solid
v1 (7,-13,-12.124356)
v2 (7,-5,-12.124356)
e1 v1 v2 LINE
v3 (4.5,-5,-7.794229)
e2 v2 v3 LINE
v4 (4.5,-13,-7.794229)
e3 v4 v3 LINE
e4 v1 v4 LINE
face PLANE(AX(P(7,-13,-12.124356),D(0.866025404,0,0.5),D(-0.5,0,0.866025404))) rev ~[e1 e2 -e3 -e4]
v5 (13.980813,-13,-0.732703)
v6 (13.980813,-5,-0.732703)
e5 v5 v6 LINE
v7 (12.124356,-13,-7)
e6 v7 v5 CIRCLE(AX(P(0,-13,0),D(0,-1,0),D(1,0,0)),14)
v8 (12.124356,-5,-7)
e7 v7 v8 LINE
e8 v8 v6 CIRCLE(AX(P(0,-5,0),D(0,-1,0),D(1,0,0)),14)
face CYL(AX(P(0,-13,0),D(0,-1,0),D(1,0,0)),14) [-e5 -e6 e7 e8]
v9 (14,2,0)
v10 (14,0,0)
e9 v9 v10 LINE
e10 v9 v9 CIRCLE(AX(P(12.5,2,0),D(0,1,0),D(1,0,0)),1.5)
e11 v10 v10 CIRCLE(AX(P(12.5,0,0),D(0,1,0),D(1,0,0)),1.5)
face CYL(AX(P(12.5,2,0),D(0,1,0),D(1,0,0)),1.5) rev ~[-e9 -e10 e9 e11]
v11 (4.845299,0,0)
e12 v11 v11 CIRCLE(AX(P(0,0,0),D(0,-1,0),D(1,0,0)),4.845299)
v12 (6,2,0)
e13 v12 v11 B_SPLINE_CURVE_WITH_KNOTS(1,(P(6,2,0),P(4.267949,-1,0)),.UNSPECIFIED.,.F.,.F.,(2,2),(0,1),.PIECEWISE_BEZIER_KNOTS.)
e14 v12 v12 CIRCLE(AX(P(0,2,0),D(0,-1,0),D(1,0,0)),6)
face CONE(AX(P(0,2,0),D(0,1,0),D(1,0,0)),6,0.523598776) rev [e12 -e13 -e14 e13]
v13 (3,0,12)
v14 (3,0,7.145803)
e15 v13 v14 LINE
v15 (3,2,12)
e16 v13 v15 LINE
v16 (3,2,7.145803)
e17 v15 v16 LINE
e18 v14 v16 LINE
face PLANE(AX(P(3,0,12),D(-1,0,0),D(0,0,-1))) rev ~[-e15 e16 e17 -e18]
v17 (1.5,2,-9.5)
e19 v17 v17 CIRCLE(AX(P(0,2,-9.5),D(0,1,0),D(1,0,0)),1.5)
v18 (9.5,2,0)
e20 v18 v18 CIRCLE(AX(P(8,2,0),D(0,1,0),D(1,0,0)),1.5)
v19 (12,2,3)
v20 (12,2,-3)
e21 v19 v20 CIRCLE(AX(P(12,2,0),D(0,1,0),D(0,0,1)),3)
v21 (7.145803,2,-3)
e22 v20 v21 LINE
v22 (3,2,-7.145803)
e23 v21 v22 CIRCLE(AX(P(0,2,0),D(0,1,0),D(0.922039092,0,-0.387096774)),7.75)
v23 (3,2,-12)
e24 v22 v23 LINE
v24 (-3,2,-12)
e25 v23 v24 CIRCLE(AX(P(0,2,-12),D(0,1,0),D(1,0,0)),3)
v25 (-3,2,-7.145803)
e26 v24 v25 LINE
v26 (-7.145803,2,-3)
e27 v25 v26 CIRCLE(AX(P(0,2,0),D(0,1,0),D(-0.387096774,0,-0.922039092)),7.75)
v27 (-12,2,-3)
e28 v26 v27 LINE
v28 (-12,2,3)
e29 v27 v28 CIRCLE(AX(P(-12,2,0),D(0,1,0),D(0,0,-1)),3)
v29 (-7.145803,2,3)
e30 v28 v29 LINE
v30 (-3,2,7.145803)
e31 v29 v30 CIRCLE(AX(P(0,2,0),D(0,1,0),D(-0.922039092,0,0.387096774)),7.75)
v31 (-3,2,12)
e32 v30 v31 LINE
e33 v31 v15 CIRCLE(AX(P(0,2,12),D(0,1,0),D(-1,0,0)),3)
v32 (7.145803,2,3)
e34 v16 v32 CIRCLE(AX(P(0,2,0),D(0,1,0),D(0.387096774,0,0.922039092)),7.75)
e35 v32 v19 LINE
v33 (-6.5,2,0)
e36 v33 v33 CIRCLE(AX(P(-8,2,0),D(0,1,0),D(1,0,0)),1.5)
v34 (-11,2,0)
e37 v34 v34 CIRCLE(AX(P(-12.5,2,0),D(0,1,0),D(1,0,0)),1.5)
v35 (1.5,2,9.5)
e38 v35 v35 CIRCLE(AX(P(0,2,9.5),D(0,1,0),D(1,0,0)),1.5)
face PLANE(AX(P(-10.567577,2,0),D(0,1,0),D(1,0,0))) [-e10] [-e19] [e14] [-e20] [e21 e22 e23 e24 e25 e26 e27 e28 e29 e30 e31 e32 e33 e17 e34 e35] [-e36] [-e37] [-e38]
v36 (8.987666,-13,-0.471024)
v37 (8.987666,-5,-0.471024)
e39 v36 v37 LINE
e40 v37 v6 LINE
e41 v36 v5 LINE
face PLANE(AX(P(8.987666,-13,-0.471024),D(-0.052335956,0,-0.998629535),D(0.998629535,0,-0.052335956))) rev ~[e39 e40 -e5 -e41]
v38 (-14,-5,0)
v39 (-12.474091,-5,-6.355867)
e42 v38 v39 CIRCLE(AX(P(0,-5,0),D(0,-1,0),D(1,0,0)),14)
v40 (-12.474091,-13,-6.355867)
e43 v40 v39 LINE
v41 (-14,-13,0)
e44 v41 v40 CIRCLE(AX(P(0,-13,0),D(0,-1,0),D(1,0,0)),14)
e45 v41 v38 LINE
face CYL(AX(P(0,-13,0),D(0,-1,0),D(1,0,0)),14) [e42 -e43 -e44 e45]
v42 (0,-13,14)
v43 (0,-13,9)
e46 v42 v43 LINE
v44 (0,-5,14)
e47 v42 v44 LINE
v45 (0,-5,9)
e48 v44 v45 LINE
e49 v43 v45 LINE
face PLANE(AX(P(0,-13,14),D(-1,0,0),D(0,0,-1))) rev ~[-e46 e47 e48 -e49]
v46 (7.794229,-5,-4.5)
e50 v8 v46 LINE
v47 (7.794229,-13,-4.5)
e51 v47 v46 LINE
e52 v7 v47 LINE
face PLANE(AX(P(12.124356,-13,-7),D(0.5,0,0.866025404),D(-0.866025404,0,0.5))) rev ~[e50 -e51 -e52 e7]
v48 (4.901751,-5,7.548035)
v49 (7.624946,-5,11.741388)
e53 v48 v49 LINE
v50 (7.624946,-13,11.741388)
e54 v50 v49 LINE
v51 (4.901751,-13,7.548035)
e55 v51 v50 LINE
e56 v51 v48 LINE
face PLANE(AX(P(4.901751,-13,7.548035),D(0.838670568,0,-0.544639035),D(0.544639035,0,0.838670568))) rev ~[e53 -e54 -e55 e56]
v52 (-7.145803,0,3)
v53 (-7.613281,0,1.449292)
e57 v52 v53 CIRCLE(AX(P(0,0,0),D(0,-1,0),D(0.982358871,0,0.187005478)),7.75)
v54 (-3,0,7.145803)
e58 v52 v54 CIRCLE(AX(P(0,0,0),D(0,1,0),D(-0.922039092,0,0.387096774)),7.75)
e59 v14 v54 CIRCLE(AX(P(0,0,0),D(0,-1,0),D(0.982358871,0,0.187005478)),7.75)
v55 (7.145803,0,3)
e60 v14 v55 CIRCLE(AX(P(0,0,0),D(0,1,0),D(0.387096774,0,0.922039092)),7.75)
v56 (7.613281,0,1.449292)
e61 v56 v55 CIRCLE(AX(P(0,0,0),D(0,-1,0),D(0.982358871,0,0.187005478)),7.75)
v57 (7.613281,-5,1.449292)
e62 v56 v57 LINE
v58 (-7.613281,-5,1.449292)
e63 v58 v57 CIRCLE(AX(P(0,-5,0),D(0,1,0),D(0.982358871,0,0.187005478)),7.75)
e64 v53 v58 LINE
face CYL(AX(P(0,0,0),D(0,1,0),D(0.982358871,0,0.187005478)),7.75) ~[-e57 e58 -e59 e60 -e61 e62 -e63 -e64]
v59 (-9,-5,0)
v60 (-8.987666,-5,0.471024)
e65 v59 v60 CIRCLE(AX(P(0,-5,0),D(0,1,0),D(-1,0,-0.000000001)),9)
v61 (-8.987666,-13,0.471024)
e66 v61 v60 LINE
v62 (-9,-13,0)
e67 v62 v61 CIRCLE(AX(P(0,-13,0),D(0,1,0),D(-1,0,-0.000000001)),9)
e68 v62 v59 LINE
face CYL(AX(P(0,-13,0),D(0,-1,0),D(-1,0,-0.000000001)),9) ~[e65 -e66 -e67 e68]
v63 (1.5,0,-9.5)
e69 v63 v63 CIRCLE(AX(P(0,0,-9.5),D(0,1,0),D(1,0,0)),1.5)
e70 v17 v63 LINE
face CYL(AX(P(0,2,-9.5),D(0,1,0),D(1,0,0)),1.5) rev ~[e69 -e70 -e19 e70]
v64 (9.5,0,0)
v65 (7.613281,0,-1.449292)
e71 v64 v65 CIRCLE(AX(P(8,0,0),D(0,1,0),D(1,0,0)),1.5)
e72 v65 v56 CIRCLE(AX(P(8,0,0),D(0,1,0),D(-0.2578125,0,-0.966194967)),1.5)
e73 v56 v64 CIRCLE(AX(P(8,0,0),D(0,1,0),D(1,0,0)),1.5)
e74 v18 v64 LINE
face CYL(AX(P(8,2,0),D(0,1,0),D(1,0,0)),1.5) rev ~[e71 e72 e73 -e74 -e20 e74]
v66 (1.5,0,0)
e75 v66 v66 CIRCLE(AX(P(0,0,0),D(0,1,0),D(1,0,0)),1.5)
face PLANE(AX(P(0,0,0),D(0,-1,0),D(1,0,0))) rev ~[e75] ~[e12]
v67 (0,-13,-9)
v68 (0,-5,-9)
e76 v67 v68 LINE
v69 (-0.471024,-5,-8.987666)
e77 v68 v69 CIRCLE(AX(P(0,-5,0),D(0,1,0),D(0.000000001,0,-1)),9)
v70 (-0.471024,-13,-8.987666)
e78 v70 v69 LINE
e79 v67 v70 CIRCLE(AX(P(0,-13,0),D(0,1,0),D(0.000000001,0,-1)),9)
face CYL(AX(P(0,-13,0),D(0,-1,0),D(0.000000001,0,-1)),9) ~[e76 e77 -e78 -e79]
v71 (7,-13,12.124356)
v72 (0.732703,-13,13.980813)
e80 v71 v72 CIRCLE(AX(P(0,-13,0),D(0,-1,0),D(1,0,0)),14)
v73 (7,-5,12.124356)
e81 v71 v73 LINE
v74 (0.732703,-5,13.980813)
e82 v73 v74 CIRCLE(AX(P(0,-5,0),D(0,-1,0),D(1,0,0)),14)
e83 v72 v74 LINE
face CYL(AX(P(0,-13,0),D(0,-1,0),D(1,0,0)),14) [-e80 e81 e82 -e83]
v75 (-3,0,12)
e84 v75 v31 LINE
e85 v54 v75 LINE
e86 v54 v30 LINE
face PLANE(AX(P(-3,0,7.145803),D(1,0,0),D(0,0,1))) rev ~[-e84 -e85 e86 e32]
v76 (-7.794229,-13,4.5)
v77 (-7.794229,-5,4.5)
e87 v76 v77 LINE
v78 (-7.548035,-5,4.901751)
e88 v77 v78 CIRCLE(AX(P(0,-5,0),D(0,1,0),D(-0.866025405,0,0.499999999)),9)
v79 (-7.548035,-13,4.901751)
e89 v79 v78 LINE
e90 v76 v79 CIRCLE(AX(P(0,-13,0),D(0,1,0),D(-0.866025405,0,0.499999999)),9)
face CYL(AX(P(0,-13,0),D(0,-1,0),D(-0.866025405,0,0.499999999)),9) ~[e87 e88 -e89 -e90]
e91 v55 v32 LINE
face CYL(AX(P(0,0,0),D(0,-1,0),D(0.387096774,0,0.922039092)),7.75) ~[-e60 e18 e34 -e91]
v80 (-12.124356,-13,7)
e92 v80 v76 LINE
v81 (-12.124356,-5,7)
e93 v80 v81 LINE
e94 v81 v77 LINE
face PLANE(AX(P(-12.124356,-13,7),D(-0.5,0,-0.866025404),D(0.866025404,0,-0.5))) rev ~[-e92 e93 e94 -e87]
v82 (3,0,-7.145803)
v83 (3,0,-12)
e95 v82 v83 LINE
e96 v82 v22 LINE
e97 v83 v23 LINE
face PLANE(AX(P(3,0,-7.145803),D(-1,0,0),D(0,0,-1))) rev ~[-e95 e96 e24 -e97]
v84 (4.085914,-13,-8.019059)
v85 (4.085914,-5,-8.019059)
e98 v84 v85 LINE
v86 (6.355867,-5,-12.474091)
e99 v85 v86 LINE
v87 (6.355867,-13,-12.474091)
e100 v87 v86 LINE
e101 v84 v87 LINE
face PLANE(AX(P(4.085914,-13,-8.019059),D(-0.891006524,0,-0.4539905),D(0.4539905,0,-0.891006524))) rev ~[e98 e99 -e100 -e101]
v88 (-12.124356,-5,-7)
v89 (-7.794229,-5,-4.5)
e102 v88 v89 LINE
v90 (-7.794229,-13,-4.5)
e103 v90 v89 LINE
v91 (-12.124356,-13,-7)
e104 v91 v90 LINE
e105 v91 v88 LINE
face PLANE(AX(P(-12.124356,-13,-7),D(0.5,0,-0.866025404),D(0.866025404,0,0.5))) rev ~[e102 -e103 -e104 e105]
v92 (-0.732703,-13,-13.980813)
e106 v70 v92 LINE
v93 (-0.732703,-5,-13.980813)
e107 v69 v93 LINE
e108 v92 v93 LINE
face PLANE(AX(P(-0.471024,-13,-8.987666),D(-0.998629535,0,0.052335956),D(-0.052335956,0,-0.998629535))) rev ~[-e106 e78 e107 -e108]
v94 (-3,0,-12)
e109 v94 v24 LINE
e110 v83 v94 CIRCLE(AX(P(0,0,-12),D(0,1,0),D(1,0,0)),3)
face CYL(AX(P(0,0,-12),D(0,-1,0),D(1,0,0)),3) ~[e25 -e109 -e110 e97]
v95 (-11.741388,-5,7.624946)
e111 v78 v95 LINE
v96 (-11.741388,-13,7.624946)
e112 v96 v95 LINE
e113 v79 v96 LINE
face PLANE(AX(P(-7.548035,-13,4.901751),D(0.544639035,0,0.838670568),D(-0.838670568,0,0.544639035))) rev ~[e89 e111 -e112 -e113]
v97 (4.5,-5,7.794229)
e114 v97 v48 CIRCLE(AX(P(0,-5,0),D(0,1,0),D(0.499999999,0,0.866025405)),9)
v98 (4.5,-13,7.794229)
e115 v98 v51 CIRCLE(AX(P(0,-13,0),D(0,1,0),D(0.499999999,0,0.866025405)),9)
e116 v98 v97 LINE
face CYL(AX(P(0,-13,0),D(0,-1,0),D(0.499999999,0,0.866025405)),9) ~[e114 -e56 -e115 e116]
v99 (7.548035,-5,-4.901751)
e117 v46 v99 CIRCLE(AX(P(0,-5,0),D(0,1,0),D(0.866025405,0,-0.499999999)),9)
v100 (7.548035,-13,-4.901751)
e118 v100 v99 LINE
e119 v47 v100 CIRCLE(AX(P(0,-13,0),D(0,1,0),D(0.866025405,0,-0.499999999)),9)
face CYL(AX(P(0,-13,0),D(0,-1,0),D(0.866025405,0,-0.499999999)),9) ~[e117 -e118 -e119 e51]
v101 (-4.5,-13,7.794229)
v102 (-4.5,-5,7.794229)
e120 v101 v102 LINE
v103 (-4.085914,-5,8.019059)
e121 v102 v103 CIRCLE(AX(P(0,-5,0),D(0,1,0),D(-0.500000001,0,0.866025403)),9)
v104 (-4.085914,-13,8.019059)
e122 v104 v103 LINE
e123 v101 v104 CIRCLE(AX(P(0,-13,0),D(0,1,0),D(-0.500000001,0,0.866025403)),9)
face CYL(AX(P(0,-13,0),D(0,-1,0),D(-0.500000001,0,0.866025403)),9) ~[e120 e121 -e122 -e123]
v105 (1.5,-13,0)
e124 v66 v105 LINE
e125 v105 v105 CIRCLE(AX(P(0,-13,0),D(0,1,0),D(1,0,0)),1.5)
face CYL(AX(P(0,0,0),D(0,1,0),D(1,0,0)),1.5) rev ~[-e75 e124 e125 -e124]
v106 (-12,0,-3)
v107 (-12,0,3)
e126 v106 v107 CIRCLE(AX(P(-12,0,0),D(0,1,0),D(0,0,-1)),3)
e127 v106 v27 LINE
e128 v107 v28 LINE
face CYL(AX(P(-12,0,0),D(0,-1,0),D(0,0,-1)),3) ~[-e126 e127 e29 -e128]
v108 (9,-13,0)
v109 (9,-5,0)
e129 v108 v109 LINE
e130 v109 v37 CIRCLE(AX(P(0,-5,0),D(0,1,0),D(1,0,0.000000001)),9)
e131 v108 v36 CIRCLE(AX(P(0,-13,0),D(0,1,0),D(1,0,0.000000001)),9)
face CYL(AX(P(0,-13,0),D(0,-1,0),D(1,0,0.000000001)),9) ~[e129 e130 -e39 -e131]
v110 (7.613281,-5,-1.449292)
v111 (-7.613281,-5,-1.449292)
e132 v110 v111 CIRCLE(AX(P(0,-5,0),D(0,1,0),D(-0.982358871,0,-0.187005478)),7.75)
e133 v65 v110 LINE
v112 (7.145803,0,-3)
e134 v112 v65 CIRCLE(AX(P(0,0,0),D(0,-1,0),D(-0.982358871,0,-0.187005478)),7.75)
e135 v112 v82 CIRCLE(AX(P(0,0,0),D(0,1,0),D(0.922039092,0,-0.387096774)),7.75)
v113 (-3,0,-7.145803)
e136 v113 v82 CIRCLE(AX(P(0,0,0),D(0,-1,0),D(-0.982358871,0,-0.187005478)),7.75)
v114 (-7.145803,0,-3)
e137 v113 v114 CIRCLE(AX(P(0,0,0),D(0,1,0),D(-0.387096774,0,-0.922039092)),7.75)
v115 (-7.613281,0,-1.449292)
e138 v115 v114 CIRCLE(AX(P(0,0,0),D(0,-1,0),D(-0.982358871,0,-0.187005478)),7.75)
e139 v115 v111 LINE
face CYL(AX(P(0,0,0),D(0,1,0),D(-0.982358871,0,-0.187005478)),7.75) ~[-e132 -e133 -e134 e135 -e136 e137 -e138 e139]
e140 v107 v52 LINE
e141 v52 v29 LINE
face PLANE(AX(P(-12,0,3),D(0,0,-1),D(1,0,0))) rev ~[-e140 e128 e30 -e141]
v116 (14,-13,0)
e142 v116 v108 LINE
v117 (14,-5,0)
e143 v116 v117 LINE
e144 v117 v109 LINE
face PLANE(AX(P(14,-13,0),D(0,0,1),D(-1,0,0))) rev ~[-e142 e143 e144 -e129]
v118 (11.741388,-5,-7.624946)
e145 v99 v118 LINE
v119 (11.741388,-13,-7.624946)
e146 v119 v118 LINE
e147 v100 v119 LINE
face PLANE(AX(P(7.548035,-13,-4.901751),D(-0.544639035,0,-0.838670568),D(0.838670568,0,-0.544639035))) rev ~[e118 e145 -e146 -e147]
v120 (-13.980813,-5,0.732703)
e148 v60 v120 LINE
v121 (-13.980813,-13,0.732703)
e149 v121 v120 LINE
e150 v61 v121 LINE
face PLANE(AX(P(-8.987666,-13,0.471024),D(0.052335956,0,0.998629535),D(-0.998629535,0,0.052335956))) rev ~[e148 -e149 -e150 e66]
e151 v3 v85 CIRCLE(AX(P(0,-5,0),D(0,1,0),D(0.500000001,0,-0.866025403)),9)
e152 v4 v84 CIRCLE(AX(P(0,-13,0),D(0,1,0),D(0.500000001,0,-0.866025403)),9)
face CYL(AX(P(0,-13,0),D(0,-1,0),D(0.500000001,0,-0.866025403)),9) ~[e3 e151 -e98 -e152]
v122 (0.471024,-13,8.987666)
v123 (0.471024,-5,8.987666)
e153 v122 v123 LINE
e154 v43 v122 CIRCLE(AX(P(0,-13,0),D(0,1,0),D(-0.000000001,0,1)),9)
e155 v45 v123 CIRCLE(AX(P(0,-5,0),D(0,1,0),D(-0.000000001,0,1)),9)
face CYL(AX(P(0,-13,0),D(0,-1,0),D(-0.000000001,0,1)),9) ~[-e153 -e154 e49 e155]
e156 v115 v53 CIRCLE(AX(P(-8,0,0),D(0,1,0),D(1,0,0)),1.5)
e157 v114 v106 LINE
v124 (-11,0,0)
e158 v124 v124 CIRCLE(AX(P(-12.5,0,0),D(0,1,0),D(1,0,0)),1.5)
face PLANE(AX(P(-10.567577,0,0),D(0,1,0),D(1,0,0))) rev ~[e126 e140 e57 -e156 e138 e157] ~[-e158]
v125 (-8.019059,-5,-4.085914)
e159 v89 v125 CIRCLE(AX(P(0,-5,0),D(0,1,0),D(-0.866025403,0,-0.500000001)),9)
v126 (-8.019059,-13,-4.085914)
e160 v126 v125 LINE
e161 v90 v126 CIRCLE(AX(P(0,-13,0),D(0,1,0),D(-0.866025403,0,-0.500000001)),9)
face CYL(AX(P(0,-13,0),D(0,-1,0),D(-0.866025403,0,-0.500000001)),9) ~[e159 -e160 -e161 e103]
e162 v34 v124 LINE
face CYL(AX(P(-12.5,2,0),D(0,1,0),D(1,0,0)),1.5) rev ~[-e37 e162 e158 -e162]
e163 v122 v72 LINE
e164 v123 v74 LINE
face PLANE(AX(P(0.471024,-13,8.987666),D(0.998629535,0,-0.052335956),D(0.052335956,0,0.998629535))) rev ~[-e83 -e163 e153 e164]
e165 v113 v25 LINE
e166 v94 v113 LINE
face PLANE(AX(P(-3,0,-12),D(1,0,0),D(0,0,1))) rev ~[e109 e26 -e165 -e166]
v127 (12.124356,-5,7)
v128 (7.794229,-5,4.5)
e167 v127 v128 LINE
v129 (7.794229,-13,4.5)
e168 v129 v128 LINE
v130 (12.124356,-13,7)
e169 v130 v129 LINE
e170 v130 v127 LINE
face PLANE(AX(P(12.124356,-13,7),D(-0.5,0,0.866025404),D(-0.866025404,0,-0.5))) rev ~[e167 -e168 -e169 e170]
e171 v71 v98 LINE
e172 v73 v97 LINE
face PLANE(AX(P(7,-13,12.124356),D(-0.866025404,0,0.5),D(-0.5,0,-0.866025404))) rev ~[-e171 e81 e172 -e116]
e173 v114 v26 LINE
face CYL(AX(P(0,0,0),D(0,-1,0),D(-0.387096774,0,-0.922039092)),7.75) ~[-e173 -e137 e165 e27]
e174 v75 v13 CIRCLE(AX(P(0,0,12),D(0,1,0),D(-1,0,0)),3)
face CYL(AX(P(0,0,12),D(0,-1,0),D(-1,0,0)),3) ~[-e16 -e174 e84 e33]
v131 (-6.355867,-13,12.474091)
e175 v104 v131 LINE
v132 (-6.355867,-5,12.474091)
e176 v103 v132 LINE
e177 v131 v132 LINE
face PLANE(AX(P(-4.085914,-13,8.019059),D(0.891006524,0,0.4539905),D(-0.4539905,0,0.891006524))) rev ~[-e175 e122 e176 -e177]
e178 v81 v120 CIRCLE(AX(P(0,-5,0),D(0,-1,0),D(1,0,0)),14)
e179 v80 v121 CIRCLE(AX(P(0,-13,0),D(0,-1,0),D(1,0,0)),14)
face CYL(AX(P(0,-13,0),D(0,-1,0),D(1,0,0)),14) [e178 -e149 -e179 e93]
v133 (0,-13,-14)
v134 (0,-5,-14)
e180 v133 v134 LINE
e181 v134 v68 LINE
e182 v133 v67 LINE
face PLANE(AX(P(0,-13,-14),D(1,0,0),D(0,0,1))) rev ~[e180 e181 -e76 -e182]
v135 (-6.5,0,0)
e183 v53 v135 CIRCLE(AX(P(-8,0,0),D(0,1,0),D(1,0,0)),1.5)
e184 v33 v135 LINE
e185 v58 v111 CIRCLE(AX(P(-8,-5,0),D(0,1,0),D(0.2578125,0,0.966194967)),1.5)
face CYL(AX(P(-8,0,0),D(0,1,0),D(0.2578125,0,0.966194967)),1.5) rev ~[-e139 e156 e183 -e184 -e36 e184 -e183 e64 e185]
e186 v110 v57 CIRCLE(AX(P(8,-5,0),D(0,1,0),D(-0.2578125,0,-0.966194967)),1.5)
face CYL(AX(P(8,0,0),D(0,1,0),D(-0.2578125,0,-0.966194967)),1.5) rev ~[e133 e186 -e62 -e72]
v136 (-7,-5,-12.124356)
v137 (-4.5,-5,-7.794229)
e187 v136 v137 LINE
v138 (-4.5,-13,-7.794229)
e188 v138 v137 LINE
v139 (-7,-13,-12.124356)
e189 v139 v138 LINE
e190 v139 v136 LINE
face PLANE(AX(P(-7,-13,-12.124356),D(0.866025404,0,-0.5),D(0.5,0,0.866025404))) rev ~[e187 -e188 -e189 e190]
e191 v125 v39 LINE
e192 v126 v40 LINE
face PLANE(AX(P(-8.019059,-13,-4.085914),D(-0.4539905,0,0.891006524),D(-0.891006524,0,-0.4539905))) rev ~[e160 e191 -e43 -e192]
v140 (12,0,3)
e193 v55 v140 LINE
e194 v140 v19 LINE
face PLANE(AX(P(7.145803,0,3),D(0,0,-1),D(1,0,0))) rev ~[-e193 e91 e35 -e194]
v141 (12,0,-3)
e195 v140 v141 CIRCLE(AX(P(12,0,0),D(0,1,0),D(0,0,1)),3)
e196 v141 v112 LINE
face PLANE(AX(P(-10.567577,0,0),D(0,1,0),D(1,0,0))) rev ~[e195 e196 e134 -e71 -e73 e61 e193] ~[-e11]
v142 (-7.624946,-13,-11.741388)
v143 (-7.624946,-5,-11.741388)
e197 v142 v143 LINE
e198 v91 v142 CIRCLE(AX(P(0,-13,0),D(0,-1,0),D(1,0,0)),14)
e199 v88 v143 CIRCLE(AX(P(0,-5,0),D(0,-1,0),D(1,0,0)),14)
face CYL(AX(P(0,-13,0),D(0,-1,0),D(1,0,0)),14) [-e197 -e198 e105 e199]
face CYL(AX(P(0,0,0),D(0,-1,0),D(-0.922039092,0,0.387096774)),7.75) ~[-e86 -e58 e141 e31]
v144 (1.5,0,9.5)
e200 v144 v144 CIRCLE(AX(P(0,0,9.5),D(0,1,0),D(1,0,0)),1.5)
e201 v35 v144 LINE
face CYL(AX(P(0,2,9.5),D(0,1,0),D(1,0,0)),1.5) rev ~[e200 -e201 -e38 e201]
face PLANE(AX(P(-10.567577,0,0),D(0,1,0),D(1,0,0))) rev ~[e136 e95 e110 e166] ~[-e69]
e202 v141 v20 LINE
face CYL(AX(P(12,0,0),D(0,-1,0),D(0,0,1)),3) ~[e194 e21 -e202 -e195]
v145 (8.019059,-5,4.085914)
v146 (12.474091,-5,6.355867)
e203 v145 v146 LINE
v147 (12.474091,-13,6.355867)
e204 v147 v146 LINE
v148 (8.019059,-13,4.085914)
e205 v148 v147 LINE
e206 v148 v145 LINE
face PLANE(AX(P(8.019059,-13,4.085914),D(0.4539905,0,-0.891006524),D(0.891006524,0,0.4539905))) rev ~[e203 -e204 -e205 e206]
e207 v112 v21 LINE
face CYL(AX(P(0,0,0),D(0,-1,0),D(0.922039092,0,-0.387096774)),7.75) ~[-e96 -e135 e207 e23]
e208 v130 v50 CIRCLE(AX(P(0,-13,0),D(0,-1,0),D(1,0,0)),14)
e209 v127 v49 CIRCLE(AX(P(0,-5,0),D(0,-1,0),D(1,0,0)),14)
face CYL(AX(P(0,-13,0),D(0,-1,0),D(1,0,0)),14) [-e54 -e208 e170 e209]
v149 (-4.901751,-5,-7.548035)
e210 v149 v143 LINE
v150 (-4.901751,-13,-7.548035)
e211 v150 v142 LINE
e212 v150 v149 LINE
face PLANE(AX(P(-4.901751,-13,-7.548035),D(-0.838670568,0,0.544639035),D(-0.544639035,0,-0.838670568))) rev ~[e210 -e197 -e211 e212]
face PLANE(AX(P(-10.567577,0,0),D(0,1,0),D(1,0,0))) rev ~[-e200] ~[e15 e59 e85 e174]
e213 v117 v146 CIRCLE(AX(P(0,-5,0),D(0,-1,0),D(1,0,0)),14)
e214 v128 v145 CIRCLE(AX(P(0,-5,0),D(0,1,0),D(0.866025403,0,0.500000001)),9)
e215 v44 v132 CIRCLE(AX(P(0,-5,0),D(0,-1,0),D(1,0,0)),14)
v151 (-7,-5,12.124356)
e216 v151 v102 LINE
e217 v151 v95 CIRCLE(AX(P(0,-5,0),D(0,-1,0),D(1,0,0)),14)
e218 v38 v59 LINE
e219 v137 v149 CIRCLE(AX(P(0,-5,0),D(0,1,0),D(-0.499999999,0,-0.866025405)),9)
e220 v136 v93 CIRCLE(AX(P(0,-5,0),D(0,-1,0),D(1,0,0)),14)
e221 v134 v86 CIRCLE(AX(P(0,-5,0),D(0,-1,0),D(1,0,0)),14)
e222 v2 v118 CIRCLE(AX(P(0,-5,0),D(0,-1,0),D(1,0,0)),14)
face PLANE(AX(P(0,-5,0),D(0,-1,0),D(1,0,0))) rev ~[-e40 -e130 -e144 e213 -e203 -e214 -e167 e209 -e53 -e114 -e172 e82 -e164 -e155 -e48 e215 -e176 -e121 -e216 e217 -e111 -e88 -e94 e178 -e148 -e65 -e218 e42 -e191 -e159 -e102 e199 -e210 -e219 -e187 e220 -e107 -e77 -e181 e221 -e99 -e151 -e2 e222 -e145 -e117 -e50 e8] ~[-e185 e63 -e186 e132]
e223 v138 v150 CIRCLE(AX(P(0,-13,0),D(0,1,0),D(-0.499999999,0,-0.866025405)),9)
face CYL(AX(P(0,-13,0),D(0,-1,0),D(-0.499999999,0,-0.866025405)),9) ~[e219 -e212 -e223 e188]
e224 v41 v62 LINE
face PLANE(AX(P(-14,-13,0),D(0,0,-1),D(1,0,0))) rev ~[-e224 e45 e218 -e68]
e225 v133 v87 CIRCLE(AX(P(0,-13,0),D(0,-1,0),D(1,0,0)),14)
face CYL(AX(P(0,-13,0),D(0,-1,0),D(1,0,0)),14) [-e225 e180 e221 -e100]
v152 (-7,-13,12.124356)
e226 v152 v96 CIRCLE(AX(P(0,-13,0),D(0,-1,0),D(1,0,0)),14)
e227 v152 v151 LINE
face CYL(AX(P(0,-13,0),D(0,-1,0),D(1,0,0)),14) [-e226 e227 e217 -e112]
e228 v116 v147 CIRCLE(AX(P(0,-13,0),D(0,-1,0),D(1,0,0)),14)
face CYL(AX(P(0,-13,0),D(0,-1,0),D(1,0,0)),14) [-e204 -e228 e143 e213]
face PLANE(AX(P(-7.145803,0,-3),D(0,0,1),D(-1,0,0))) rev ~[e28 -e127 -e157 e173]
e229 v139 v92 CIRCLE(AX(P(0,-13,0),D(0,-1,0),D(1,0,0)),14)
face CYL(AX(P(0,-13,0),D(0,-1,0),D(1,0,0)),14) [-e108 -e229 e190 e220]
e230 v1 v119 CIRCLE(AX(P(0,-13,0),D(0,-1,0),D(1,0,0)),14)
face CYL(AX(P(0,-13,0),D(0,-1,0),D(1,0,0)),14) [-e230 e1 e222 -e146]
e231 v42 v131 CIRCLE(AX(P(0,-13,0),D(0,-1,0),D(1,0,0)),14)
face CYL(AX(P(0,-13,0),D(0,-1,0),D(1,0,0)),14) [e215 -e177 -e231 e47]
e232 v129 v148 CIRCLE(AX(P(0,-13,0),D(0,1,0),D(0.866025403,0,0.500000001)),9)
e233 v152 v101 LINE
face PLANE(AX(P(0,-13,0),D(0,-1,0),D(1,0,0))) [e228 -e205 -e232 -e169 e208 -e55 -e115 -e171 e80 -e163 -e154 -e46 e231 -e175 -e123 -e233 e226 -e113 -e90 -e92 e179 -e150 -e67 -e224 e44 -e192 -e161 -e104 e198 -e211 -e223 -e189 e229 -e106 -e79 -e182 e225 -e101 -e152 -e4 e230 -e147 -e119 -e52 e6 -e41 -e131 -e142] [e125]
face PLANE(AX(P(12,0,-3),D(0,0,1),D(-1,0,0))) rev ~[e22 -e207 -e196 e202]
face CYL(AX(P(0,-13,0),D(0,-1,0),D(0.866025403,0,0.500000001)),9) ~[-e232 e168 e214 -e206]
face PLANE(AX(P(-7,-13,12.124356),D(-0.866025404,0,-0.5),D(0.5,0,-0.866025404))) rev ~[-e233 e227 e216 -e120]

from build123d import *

# Parameters (mm, degrees)
SKETCH1_W           = 6
SKETCH1_H           = 6
BOSS_EXTRUDE1_DEPTH = 2
SKETCH2_R           = 1.5
CUT_EXTRUDE1_DEPTH  = 3
SKETCH3_R           = 6
CUT_EXTRUDE2_DEPTH  = 3
CUT_EXTRUDE2_TAPER  = 30
BOSS_EXTRUDE2_DEPTH = 13
SKETCH5_R           = 14
BOSS_EXTRUDE3_DEPTH = 8
SKETCH6_R           = 1.5
CUT_EXTRUDE3_DEPTH  = 14
CUT_EXTRUDE5_DEPTH  = 8
CIRPATTERN1_COUNT   = 12


with BuildPart() as part:
    # Sketch1 → Boss-Extrude1 (new body)
    with BuildSketch(Plane(origin=(0, 0, 0), x_dir=(1, 0, 0), z_dir=(0, 1, 0))):
        with BuildLine():
            Line((-12, -3), (-7.145802964, -3))
            ThreePointArc((-7.145802964, -3), (-7.75, 0), (-7.145802964, 3))
            Line((-7.145802964, 3), (-12, 3))
            ThreePointArc((-12, 3), (-15, 0), (-12, -3))
        make_face()
        with BuildLine():
            Line((-7.145802964, -3), (-3, -3))
            Line((-3, -3), (-3, 3))
            Line((-3, 3), (-7.145802964, 3))
            ThreePointArc((-7.145802964, 3), (-7.75, 0), (-7.145802964, -3))
        make_face()
        with BuildLine():
            Line((3, -3), (3, -7.145802964))
            ThreePointArc((3, -7.145802964), (5.480077554, -5.480077554), (7.145802964, -3))
            Line((7.145802964, -3), (3, -3))
        make_face()
        with BuildLine():
            Line((-3, -3), (-3, -7.145802964))
            ThreePointArc((-3, -7.145802964), (0, -7.75), (3, -7.145802964))
            Line((3, -7.145802964), (3, -3))
            Line((3, -3), (-3, -3))
        make_face()
        with BuildLine():
            ThreePointArc((-7.145802964, -3), (-5.480077554, -5.480077554), (-3, -7.145802964))
            Line((-3, -7.145802964), (-3, -3))
            Line((-3, -3), (-7.145802964, -3))
        make_face()
        with BuildLine():
            Line((-7.145802964, 3), (-3, 3))
            Line((-3, 3), (-3, 7.145802964))
            ThreePointArc((-3, 7.145802964), (-5.480077554, 5.480077554), (-7.145802964, 3))
        make_face()
        with BuildLine():
            Line((-3, 7.145802964), (-3, 3))
            Line((-3, 3), (3, 3))
            Line((3, 3), (3, 7.145802964))
            ThreePointArc((3, 7.145802964), (0, 7.75), (-3, 7.145802964))
        make_face()
        with BuildLine():
            Line((-3, 12), (-3, 7.145802964))
            ThreePointArc((-3, 7.145802964), (0, 7.75), (3, 7.145802964))
            Line((3, 7.145802964), (3, 12))
            ThreePointArc((3, 12), (0, 15), (-3, 12))
        make_face()
        Rectangle(SKETCH1_W, SKETCH1_H)
        with BuildLine():
            Line((3, 3), (3, -3))
            Line((3, -3), (7.145802964, -3))
            ThreePointArc((7.145802964, -3), (7.597449341, -1.530118791), (7.75, 0))
            ThreePointArc((7.75, 0), (7.597449341, 1.530118791), (7.145802964, 3))
            Line((7.145802964, 3), (3, 3))
        make_face()
        with BuildLine():
            Line((3, 7.145802964), (3, 3))
            Line((3, 3), (7.145802964, 3))
            ThreePointArc((7.145802964, 3), (5.480077554, 5.480077554), (3, 7.145802964))
        make_face()
        with BuildLine():
            ThreePointArc((7.75, 0), (7.597449341, -1.530118791), (7.145802964, -3))
            Line((7.145802964, -3), (12, -3))
            ThreePointArc((12, -3), (15, 0), (12, 3))
            Line((12, 3), (7.145802964, 3))
            ThreePointArc((7.145802964, 3), (7.597449341, 1.530118791), (7.75, 0))
        make_face()
        with BuildLine():
            Line((-3, -7.145802964), (-3, -12))
            ThreePointArc((-3, -12), (0, -15), (3, -12))
            Line((3, -12), (3, -7.145802964))
            ThreePointArc((3, -7.145802964), (0, -7.75), (-3, -7.145802964))
        make_face()
    extrude(amount=BOSS_EXTRUDE1_DEPTH)

    # Sketch2 → Cut-Extrude1 (cut, through all)
    with BuildSketch(Plane(origin=(0, 2, 0), x_dir=(1, 0, 0), z_dir=(0, 1, 0))):
        with Locations((8, 0)):
            Circle(SKETCH2_R)
        with Locations((12.5, 0)):
            Circle(SKETCH2_R)
        with Locations((0, 9.5)):
            Circle(SKETCH2_R)
        with Locations((0, -9.5)):
            Circle(SKETCH2_R)
        with Locations((-12.5, 0)):
            Circle(SKETCH2_R)
        with Locations((-8, 0)):
            Circle(SKETCH2_R)
    extrude(amount=-CUT_EXTRUDE1_DEPTH, mode=Mode.SUBTRACT)

    # Sketch3 → Cut-Extrude2 (cut, through all)
    with BuildSketch(Plane(origin=(0, 2, 0), x_dir=(1, 0, 0), z_dir=(0, 1, 0))):
        Circle(SKETCH3_R)
    extrude(amount=-CUT_EXTRUDE2_DEPTH, taper=CUT_EXTRUDE2_TAPER, mode=Mode.SUBTRACT)

    # Sketch4 → Boss-Extrude2 (add)
    with BuildSketch(Plane.XZ):
        with BuildLine():
            ThreePointArc((-7.61328125, -1.449292451), (0, -7.75), (7.61328125, -1.449292451))
            ThreePointArc((7.61328125, -1.449292451), (6.5, 0), (7.61328125, 1.449292451))
            ThreePointArc((7.61328125, 1.449292451), (0, 7.75), (-7.61328125, 1.449292451))
            ThreePointArc((-7.61328125, 1.449292451), (-6.5, 0), (-7.61328125, -1.449292451))
        make_face()
    extrude(amount=BOSS_EXTRUDE2_DEPTH)

    # Sketch5 → Boss-Extrude3 (add)
    with BuildSketch(Plane.XZ.offset(13)):
        Circle(SKETCH5_R)
    extrude(amount=-BOSS_EXTRUDE3_DEPTH)

    # Sketch6 → Cut-Extrude3 (cut, through all)
    with BuildSketch(Plane(origin=(0, 0, 0), x_dir=(1, 0, 0), z_dir=(0, 1, 0))):
        Circle(SKETCH6_R)
    extrude(amount=-CUT_EXTRUDE3_DEPTH, mode=Mode.SUBTRACT)

    # Sketch7 → Cut-Extrude5 (cut)
    with BuildSketch(Plane.XZ.offset(13)):
        with BuildLine():
            Line((14, 0), (9, 0))
            ThreePointArc((9, 0), (8.996915925, -0.235592535), (8.987665813, -0.471023606))
            Line((8.987665813, -0.471023606), (13.980813487, -0.732703387))
            ThreePointArc((13.980813487, -0.732703387), (13.99520255, -0.366477276), (14, 0))
        make_face()
    cut_extrude5 = extrude(amount=-CUT_EXTRUDE5_DEPTH, mode=Mode.SUBTRACT)

    # CirPattern1: Cut-Extrude5 ×12 about axis
    cirpattern1_axis = Axis((0, -13, 0), (0, -1, 0))
    for i in range(1, CIRPATTERN1_COUNT):
        add(cut_extrude5.rotate(cirpattern1_axis, i * 360 / CIRPATTERN1_COUNT), mode=Mode.SUBTRACT)


solid = part.part
